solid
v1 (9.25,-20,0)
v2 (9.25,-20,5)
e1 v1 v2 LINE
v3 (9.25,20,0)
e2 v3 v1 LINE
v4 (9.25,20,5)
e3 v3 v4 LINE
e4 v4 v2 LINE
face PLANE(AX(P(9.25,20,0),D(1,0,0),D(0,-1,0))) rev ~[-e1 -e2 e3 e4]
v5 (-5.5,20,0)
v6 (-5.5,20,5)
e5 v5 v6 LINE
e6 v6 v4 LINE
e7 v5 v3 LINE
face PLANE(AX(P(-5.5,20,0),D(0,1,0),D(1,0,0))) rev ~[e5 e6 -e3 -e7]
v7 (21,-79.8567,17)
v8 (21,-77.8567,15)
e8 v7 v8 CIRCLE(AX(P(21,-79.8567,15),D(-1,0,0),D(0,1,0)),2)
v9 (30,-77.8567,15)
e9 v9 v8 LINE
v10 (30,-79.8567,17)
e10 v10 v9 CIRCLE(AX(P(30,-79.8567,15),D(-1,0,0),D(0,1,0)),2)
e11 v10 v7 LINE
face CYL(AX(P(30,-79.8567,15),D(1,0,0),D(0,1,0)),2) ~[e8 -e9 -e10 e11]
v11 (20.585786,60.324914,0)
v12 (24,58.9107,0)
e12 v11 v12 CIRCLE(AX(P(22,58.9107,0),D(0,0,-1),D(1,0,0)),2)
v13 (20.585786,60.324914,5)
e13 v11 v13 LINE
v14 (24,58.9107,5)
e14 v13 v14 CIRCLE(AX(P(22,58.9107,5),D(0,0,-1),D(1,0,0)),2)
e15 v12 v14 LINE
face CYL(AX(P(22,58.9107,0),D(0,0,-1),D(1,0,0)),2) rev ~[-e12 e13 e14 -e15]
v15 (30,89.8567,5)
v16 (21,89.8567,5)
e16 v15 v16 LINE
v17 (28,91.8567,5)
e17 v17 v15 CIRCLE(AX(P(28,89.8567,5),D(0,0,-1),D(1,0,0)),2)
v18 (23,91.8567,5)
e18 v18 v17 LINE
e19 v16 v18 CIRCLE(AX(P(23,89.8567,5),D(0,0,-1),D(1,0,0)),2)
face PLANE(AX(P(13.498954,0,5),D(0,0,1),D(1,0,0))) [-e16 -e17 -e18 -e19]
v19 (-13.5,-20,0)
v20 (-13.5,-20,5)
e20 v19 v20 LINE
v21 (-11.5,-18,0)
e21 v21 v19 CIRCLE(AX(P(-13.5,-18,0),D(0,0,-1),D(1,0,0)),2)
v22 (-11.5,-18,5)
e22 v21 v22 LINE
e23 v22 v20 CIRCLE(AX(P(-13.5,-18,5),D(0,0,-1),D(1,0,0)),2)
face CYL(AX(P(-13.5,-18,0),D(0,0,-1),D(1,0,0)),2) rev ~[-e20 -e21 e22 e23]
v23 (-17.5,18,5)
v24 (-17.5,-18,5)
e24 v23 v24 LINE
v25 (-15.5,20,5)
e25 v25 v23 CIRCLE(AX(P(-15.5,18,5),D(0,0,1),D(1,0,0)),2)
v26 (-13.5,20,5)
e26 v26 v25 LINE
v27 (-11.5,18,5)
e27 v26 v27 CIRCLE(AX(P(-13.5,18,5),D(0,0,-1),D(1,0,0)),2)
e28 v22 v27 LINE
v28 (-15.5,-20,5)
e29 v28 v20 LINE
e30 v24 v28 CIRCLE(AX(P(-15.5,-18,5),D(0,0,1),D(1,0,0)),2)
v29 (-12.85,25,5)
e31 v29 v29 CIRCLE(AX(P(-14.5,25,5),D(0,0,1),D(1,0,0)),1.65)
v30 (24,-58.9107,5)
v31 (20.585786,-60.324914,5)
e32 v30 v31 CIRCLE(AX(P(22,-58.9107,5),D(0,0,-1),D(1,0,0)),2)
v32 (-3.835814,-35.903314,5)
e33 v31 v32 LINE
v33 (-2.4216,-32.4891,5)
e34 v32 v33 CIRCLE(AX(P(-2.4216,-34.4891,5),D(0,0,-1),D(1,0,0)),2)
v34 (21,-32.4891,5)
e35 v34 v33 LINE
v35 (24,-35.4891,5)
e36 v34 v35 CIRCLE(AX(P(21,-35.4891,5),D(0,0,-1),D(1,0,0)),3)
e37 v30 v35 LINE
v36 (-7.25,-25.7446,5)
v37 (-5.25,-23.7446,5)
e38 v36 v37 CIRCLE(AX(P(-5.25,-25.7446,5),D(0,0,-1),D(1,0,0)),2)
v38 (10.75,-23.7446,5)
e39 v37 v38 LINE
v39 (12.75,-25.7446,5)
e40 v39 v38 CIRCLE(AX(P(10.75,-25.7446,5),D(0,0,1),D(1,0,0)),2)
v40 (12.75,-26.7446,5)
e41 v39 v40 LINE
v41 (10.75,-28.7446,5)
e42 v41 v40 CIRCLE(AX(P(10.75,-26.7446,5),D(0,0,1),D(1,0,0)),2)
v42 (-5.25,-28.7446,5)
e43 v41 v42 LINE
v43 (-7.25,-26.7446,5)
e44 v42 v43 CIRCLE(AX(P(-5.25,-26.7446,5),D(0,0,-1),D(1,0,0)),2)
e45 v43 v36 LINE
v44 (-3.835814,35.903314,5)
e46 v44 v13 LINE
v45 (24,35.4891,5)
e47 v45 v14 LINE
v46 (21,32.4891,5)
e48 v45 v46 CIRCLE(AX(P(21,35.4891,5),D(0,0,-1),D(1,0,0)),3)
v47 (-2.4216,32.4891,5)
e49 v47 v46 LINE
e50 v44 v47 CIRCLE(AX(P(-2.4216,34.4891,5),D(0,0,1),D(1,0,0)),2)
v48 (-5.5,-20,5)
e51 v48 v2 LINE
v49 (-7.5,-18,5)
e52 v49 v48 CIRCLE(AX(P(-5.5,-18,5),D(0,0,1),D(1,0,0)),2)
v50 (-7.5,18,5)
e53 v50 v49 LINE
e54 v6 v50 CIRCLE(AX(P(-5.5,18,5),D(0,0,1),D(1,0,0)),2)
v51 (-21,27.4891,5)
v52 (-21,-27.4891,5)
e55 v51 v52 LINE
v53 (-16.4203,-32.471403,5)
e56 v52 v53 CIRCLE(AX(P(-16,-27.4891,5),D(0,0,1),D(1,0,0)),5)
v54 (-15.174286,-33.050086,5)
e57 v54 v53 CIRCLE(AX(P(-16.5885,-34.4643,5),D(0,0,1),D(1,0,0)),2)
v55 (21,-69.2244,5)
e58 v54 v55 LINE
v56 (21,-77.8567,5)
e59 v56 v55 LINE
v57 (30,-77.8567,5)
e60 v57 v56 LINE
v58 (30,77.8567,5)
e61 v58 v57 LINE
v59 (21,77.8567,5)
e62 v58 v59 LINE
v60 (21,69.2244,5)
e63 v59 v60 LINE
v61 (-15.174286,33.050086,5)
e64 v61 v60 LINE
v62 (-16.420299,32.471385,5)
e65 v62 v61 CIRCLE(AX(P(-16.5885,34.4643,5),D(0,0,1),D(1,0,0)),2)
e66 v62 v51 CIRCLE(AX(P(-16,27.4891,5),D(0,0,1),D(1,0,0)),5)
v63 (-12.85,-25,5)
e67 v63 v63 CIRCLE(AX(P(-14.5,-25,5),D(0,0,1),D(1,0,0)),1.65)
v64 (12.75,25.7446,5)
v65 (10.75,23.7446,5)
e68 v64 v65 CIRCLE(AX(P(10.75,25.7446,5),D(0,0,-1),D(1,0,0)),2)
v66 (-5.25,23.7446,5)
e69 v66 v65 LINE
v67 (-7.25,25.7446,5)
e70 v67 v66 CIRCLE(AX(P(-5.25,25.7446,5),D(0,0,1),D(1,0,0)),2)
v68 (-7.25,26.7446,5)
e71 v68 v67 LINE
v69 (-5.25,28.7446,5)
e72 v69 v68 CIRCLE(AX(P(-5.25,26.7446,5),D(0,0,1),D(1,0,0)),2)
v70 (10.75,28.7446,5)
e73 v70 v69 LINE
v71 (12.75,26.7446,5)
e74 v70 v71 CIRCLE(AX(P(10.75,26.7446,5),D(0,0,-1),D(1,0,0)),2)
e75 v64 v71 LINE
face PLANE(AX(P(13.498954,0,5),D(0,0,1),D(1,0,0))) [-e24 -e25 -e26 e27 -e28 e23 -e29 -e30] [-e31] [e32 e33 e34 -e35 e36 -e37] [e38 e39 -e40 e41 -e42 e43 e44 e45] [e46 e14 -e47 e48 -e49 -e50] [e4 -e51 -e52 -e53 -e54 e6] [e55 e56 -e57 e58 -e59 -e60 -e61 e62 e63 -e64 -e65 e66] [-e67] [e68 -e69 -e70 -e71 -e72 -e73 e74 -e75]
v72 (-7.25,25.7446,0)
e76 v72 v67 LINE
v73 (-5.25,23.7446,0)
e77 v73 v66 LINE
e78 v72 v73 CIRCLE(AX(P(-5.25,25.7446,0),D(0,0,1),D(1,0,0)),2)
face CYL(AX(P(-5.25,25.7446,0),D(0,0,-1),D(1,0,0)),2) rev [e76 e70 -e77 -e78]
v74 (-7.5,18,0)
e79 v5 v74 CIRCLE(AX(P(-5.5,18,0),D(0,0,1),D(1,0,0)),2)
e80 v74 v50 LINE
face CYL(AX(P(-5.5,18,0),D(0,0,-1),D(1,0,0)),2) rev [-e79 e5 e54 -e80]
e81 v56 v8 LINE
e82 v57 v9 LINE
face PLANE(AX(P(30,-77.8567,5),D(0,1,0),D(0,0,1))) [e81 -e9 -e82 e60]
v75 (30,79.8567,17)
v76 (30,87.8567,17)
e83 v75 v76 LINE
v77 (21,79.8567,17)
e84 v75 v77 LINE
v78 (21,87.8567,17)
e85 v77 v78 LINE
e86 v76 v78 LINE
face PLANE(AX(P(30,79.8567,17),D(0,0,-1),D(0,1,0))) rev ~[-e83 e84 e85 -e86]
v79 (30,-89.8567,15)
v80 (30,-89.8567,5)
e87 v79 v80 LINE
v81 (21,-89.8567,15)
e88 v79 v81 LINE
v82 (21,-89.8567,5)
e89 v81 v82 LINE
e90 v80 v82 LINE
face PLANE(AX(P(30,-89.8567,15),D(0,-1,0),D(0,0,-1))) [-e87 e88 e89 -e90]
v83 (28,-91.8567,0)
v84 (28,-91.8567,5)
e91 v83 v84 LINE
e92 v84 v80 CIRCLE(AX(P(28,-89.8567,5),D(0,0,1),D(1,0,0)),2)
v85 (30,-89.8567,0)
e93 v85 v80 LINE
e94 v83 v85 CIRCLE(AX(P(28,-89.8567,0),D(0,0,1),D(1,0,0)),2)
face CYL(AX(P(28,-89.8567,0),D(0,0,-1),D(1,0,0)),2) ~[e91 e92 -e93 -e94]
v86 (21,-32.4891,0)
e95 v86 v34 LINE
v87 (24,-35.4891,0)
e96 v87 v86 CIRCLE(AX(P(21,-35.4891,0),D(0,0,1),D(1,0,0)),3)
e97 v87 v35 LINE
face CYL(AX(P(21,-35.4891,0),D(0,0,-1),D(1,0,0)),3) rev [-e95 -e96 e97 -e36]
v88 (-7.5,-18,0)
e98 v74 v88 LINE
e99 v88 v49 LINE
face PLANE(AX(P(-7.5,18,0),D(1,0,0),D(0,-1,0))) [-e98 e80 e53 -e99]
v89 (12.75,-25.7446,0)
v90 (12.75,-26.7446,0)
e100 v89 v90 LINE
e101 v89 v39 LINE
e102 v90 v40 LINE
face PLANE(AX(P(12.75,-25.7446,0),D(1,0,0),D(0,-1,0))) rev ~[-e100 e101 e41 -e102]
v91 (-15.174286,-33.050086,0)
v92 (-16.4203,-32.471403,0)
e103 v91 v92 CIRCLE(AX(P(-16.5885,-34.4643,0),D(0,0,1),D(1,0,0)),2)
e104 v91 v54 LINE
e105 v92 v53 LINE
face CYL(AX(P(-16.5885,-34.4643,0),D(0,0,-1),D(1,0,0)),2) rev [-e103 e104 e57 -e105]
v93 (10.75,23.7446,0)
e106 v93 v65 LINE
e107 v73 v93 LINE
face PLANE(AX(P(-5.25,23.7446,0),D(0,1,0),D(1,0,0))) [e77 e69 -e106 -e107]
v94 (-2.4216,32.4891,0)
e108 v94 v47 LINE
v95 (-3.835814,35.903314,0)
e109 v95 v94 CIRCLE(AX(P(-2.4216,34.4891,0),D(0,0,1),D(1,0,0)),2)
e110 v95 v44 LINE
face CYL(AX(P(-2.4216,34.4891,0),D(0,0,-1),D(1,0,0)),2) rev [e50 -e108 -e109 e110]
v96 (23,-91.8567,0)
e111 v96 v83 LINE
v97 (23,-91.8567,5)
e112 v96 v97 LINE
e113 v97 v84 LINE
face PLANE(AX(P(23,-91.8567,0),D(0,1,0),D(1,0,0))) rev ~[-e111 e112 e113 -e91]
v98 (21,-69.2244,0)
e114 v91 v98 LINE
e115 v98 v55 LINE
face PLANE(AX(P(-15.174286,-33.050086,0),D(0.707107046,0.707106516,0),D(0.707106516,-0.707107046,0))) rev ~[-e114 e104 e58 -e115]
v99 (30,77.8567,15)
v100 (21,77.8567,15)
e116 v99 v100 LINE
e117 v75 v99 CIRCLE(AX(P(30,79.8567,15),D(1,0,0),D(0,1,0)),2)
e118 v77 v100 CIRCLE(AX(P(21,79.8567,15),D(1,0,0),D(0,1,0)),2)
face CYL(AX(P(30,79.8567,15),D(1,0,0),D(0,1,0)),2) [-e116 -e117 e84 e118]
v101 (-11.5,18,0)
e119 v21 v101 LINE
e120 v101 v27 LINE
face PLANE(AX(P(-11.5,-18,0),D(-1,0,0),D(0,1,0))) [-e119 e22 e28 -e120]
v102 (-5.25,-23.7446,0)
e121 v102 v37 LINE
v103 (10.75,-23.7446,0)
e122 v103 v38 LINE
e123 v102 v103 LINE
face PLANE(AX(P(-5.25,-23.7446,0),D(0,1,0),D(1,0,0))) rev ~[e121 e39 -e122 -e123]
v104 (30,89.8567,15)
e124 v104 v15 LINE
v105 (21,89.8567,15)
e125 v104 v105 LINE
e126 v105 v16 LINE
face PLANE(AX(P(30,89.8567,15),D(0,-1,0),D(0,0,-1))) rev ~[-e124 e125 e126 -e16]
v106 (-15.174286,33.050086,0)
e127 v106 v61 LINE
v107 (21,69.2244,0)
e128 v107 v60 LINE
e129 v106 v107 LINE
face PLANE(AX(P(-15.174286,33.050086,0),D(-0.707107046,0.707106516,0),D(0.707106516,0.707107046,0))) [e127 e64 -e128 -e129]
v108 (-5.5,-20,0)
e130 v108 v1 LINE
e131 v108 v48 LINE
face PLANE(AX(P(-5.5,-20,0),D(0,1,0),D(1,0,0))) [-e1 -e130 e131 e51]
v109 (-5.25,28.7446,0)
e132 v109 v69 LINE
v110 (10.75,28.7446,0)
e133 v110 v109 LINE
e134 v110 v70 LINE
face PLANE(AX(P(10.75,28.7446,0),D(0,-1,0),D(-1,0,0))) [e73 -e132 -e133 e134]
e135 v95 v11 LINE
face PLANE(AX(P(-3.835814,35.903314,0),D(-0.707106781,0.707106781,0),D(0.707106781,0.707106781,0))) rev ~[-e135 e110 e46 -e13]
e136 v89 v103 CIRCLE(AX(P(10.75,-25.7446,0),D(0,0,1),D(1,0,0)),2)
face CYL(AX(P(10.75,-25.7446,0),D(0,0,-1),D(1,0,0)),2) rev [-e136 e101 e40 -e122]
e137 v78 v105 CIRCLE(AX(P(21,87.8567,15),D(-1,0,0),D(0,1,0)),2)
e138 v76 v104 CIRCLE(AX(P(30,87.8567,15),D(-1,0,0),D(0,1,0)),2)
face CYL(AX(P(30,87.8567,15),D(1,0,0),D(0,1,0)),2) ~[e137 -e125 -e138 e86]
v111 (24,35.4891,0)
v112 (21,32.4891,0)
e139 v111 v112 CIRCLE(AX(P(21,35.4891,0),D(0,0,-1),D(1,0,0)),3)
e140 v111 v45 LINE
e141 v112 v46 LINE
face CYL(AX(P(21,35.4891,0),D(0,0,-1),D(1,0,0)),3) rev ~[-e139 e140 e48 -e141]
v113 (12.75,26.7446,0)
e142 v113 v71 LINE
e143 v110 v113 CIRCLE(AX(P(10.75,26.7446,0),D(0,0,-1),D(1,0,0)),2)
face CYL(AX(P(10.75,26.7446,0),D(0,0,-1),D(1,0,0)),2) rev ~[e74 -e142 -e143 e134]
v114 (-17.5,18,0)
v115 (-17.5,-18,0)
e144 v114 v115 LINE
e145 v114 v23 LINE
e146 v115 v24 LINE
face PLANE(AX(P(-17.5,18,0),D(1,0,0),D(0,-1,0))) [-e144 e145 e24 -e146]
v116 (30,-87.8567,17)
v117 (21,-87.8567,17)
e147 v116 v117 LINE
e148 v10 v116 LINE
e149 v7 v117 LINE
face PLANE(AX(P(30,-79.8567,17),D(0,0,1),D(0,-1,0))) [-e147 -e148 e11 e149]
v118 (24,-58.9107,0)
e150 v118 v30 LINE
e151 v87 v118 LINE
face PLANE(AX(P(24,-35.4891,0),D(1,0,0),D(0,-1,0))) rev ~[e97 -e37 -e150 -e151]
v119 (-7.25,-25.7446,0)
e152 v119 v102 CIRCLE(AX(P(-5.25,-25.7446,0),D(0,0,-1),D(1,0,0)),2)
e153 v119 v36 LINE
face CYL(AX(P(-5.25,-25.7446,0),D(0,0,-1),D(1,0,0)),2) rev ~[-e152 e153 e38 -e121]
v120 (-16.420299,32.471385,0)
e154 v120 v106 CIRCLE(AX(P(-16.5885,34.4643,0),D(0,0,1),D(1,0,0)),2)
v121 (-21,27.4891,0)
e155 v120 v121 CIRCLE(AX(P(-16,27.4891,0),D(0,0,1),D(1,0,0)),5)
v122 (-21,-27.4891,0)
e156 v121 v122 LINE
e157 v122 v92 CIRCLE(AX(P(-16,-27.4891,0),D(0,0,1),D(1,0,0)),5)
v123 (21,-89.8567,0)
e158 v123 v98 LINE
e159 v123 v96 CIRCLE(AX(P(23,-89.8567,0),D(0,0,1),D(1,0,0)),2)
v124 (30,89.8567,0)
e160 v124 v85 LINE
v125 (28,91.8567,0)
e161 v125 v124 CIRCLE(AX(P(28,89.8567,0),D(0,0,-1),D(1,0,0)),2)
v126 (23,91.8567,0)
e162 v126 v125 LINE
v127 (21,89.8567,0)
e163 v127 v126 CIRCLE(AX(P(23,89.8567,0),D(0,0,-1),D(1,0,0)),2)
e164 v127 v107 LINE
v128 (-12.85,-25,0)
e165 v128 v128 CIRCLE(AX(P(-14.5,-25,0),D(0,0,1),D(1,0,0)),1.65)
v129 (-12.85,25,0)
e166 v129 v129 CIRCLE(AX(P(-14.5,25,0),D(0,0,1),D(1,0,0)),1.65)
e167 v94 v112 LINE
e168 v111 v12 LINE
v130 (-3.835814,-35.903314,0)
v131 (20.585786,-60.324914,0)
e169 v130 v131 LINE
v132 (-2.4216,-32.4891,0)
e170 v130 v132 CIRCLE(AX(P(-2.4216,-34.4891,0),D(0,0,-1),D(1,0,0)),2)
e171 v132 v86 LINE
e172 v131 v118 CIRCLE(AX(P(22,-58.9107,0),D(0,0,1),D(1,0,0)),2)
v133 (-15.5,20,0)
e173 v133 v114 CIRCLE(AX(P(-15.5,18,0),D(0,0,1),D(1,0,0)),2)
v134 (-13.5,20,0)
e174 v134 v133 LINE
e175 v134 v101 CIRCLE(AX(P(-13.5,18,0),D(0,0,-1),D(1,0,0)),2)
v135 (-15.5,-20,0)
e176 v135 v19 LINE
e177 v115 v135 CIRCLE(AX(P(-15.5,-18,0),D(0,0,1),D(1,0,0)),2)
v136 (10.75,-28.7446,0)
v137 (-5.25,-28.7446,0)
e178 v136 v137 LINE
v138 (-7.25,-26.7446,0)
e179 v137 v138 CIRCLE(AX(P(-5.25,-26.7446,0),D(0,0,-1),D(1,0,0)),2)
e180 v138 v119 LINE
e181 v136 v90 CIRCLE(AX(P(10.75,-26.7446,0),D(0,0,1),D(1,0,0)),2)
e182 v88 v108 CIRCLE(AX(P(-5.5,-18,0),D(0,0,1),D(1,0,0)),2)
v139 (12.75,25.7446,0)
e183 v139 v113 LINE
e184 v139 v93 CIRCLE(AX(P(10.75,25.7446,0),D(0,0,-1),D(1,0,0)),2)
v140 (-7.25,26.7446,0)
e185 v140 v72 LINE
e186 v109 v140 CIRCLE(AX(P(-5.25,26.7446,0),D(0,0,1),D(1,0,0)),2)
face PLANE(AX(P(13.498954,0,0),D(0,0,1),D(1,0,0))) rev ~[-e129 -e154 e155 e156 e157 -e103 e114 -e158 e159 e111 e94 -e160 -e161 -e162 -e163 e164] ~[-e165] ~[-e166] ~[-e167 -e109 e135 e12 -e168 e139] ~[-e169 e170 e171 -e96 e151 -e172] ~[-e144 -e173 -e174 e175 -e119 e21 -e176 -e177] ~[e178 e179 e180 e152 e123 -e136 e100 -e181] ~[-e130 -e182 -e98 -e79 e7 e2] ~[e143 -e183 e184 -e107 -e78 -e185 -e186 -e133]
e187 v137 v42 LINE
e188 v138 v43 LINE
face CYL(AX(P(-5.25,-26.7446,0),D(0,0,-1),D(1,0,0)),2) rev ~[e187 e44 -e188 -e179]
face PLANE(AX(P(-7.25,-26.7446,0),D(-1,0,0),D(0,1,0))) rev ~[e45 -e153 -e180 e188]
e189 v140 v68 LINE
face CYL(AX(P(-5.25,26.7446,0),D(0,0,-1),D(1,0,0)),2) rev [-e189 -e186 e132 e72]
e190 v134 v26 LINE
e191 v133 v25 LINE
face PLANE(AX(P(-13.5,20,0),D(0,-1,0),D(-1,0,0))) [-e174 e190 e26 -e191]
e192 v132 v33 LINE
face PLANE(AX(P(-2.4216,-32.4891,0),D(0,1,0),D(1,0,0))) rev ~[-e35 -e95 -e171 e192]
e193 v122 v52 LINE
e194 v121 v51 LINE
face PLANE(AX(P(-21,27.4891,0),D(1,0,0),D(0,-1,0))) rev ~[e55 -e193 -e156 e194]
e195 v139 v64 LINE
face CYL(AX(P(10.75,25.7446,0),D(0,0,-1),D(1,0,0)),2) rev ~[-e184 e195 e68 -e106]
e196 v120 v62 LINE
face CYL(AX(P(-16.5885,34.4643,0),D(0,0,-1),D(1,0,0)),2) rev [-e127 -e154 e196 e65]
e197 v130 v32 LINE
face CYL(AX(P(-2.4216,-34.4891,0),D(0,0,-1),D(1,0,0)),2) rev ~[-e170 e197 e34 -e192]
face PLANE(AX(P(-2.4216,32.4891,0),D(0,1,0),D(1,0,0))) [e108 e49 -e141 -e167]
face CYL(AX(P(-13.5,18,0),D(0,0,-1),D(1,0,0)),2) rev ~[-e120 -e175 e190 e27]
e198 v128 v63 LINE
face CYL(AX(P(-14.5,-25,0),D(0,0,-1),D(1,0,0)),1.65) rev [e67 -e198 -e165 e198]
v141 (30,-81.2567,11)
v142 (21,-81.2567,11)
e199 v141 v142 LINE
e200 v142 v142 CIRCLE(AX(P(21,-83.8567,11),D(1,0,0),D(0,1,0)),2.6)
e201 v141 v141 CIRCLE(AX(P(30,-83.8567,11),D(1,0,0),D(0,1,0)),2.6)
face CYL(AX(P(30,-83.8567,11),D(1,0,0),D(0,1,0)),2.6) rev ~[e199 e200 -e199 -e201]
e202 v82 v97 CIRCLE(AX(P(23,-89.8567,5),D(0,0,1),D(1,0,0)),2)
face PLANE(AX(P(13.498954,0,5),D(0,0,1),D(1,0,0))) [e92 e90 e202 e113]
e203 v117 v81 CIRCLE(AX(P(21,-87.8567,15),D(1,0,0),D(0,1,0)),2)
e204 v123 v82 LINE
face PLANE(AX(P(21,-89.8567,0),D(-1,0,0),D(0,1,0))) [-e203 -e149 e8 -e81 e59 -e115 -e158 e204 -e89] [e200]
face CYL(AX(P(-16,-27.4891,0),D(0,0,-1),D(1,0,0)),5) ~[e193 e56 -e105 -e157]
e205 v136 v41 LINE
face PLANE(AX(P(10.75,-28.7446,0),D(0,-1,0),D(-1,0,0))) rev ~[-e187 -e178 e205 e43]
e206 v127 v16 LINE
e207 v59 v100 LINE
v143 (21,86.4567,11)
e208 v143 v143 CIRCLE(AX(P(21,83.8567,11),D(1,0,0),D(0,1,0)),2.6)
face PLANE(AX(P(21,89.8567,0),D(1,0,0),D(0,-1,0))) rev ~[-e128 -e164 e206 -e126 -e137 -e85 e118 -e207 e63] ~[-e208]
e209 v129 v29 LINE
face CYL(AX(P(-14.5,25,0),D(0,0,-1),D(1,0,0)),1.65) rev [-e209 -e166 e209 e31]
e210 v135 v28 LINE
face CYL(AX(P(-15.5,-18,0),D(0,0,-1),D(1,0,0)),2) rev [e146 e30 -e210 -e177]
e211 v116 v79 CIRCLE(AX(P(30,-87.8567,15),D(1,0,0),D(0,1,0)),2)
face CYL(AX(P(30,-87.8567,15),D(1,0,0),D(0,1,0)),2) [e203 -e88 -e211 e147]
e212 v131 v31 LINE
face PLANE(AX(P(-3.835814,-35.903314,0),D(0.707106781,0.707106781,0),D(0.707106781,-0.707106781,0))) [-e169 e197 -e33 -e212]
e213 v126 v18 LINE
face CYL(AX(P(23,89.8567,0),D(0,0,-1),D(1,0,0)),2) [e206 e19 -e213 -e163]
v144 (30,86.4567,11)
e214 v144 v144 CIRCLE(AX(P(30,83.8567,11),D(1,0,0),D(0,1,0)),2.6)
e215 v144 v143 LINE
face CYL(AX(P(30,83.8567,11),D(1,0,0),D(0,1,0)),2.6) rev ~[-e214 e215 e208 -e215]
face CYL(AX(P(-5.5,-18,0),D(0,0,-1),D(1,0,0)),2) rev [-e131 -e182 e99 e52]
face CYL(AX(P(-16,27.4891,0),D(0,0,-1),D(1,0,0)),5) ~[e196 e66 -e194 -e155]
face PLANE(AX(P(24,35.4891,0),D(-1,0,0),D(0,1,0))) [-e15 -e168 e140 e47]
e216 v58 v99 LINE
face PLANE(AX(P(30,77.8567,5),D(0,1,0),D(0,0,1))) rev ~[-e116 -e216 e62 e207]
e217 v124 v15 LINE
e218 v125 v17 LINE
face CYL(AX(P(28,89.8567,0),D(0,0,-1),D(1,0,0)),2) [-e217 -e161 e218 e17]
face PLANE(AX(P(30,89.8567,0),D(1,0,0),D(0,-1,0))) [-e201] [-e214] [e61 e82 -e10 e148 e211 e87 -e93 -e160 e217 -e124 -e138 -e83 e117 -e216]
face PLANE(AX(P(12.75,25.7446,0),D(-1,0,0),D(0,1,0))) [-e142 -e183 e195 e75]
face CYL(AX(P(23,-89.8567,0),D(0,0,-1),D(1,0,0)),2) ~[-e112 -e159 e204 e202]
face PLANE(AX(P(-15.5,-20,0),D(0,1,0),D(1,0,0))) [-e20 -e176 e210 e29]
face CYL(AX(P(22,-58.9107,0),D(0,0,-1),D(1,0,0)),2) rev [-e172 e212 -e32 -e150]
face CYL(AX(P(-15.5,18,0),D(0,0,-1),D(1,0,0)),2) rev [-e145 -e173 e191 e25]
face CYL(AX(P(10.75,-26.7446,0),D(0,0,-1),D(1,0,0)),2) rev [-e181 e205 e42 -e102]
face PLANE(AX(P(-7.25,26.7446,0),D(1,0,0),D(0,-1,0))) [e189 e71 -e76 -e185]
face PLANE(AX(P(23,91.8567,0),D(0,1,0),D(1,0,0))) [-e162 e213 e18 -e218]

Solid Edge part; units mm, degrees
sketch "Sketch1" plane through (0, 0, 0) normal (0, 0, 1) x (1, 0, 0)
  arc A0 (-21, -27.4891) -> (-16.4203, -32.4714) centre (-16, -27.4891) ccw
  arc A1 (-15.1743, -33.0501) -> (-16.4203, -32.4714) centre (-16.5885, -34.4643) ccw
  line L0 (-15.1743, -33.0501) -> (21, -69.2244)
  line L1 (21, -89.8567) -> (21, -69.2244)
  arc A2 (21, -89.8567) -> (23, -91.8567) centre (23, -89.8567) ccw
  line L2 (23, -91.8567) -> (28, -91.8567)
  arc A3 (28, -91.8567) -> (30, -89.8567) centre (28, -89.8567) ccw
  line L3 (30, 89.8567) -> (30, -89.8567)
  arc A4 (28, 91.8567) -> (30, 89.8567) centre (28, 89.8567) cw
  line L4 (23, 91.8567) -> (28, 91.8567)
  arc A5 (21, 89.8567) -> (23, 91.8567) centre (23, 89.8567) cw
  line L5 (21, 89.8567) -> (21, 69.2244)
  line L6 (-15.1743, 33.0501) -> (21, 69.2244)
  arc A6 (-16.4203, 32.4714) -> (-15.1743, 33.0501) centre (-16.5885, 34.4643) ccw
  arc A7 (-16.4203, 32.4714) -> (-21, 27.4891) centre (-16, 27.4891) ccw
  line L7 (-21, 27.4891) -> (-21, -27.4891)
  circle A8 centre (-14.5, 25) radius 1.65
  circle A9 centre (-14.5, -25) radius 1.65
  arc A10 (-11.5, -18) -> (-13.5, -20) centre (-13.5, -18) cw
  line L8 (-15.5, -20) -> (-13.5, -20)
  arc A11 (-17.5, -18) -> (-15.5, -20) centre (-15.5, -18) ccw
  line L9 (-17.5, 18) -> (-17.5, -18)
  arc A12 (-15.5, 20) -> (-17.5, 18) centre (-15.5, 18) ccw
  line L10 (-13.5, 20) -> (-15.5, 20)
  arc A13 (-13.5, 20) -> (-11.5, 18) centre (-13.5, 18) cw
  line L11 (-11.5, -18) -> (-11.5, 18)
  line L12 (-5.25, -23.7446) -> (10.75, -23.7446)
  arc A14 (12.75, -25.7446) -> (10.75, -23.7446) centre (10.75, -25.7446) ccw
  line L13 (12.75, -25.7446) -> (12.75, -26.7446)
  arc A15 (10.75, -28.7446) -> (12.75, -26.7446) centre (10.75, -26.7446) ccw
  line L14 (10.75, -28.7446) -> (-5.25, -28.7446)
  arc A16 (-5.25, -28.7446) -> (-7.25, -26.7446) centre (-5.25, -26.7446) cw
  line L15 (-7.25, -26.7446) -> (-7.25, -25.7446)
  arc A17 (-7.25, -25.7446) -> (-5.25, -23.7446) centre (-5.25, -25.7446) cw
  line L16 (-5.5, -20) -> (9.25, -20)
  line L17 (9.25, 20) -> (9.25, -20)
  line L18 (-5.5, 20) -> (9.25, 20)
  arc A18 (-5.5, 20) -> (-7.5, 18) centre (-5.5, 18) ccw
  line L19 (-7.5, 18) -> (-7.5, -18)
  arc A19 (-7.5, -18) -> (-5.5, -20) centre (-5.5, -18) ccw
  line L20 (-5.25, 23.7446) -> (10.75, 23.7446)
  arc A20 (12.75, 25.7446) -> (10.75, 23.7446) centre (10.75, 25.7446) cw
  line L21 (12.75, 25.7446) -> (12.75, 26.7446)
  arc A21 (10.75, 28.7446) -> (12.75, 26.7446) centre (10.75, 26.7446) cw
  line L22 (10.75, 28.7446) -> (-5.25, 28.7446)
  arc A22 (-5.25, 28.7446) -> (-7.25, 26.7446) centre (-5.25, 26.7446) ccw
  line L23 (-7.25, 26.7446) -> (-7.25, 25.7446)
  arc A23 (-7.25, 25.7446) -> (-5.25, 23.7446) centre (-5.25, 25.7446) ccw
  arc A24 (24, 35.4891) -> (21, 32.4891) centre (21, 35.4891) cw
  line L24 (-2.4216, 32.4891) -> (21, 32.4891)
  arc A25 (-3.8358, 35.9033) -> (-2.4216, 32.4891) centre (-2.4216, 34.4891) ccw
  line L25 (-3.8358, 35.9033) -> (20.5858, 60.3249)
  arc A26 (20.5858, 60.3249) -> (24, 58.9107) centre (22, 58.9107) cw
  line L26 (24, 35.4891) -> (24, 58.9107)
extrude "Protrusion1" add sketch "Sketch1" along normal blind 5
sketch "Sketch2" plane through (0, 0, 0) normal (0, 0, 1) x (1, 0, 0)
  line L0 (-2.4216, -32.4891) -> (21, -32.4891)
  arc A0 (24, -35.4891) -> (21, -32.4891) centre (21, -35.4891) ccw
  line L1 (24, -35.4891) -> (24, -58.9107)
  arc A1 (20.5858, -60.3249) -> (24, -58.9107) centre (22, -58.9107) ccw
  line L2 (-3.8358, -35.9033) -> (20.5858, -60.3249)
  arc A2 (-3.8358, -35.9033) -> (-2.4216, -32.4891) centre (-2.4216, -34.4891) cw
extrude "ExtrudedCutout_3" cut sketch "Sketch2" along normal blind 9
sketch "Sketch3" plane through (30, 0, 2.5) normal (1, 0, 0) x (0, 1, 0)
  line L0 (-89.8567, 2.5) -> (-77.8567, 2.5)
  line L1 (-77.8567, 2.5) -> (-77.8567, 12.5)
  arc A0 (-79.8567, 14.5) -> (-77.8567, 12.5) centre (-79.8567, 12.5) cw
  line L2 (-79.8567, 14.5) -> (-87.8567, 14.5)
  arc A1 (-87.8567, 14.5) -> (-89.8567, 12.5) centre (-87.8567, 12.5) ccw
  line L3 (-89.8567, 12.5) -> (-89.8567, 2.5)
  circle A2 centre (-83.8567, 8.5) radius 2.6
  line L4 (89.8567, 2.5) -> (77.8567, 2.5)
  line L5 (77.8567, 2.5) -> (77.8567, 12.5)
  arc A3 (79.8567, 14.5) -> (77.8567, 12.5) centre (79.8567, 12.5) ccw
  line L6 (79.8567, 14.5) -> (87.8567, 14.5)
  arc A4 (87.8567, 14.5) -> (89.8567, 12.5) centre (87.8567, 12.5) cw
  line L7 (89.8567, 12.5) -> (89.8567, 2.5)
  circle A5 centre (83.8567, 8.5) radius 2.6
extrude "ExtrudedProtrusion_8" add sketch "Sketch3" against normal blind 9
